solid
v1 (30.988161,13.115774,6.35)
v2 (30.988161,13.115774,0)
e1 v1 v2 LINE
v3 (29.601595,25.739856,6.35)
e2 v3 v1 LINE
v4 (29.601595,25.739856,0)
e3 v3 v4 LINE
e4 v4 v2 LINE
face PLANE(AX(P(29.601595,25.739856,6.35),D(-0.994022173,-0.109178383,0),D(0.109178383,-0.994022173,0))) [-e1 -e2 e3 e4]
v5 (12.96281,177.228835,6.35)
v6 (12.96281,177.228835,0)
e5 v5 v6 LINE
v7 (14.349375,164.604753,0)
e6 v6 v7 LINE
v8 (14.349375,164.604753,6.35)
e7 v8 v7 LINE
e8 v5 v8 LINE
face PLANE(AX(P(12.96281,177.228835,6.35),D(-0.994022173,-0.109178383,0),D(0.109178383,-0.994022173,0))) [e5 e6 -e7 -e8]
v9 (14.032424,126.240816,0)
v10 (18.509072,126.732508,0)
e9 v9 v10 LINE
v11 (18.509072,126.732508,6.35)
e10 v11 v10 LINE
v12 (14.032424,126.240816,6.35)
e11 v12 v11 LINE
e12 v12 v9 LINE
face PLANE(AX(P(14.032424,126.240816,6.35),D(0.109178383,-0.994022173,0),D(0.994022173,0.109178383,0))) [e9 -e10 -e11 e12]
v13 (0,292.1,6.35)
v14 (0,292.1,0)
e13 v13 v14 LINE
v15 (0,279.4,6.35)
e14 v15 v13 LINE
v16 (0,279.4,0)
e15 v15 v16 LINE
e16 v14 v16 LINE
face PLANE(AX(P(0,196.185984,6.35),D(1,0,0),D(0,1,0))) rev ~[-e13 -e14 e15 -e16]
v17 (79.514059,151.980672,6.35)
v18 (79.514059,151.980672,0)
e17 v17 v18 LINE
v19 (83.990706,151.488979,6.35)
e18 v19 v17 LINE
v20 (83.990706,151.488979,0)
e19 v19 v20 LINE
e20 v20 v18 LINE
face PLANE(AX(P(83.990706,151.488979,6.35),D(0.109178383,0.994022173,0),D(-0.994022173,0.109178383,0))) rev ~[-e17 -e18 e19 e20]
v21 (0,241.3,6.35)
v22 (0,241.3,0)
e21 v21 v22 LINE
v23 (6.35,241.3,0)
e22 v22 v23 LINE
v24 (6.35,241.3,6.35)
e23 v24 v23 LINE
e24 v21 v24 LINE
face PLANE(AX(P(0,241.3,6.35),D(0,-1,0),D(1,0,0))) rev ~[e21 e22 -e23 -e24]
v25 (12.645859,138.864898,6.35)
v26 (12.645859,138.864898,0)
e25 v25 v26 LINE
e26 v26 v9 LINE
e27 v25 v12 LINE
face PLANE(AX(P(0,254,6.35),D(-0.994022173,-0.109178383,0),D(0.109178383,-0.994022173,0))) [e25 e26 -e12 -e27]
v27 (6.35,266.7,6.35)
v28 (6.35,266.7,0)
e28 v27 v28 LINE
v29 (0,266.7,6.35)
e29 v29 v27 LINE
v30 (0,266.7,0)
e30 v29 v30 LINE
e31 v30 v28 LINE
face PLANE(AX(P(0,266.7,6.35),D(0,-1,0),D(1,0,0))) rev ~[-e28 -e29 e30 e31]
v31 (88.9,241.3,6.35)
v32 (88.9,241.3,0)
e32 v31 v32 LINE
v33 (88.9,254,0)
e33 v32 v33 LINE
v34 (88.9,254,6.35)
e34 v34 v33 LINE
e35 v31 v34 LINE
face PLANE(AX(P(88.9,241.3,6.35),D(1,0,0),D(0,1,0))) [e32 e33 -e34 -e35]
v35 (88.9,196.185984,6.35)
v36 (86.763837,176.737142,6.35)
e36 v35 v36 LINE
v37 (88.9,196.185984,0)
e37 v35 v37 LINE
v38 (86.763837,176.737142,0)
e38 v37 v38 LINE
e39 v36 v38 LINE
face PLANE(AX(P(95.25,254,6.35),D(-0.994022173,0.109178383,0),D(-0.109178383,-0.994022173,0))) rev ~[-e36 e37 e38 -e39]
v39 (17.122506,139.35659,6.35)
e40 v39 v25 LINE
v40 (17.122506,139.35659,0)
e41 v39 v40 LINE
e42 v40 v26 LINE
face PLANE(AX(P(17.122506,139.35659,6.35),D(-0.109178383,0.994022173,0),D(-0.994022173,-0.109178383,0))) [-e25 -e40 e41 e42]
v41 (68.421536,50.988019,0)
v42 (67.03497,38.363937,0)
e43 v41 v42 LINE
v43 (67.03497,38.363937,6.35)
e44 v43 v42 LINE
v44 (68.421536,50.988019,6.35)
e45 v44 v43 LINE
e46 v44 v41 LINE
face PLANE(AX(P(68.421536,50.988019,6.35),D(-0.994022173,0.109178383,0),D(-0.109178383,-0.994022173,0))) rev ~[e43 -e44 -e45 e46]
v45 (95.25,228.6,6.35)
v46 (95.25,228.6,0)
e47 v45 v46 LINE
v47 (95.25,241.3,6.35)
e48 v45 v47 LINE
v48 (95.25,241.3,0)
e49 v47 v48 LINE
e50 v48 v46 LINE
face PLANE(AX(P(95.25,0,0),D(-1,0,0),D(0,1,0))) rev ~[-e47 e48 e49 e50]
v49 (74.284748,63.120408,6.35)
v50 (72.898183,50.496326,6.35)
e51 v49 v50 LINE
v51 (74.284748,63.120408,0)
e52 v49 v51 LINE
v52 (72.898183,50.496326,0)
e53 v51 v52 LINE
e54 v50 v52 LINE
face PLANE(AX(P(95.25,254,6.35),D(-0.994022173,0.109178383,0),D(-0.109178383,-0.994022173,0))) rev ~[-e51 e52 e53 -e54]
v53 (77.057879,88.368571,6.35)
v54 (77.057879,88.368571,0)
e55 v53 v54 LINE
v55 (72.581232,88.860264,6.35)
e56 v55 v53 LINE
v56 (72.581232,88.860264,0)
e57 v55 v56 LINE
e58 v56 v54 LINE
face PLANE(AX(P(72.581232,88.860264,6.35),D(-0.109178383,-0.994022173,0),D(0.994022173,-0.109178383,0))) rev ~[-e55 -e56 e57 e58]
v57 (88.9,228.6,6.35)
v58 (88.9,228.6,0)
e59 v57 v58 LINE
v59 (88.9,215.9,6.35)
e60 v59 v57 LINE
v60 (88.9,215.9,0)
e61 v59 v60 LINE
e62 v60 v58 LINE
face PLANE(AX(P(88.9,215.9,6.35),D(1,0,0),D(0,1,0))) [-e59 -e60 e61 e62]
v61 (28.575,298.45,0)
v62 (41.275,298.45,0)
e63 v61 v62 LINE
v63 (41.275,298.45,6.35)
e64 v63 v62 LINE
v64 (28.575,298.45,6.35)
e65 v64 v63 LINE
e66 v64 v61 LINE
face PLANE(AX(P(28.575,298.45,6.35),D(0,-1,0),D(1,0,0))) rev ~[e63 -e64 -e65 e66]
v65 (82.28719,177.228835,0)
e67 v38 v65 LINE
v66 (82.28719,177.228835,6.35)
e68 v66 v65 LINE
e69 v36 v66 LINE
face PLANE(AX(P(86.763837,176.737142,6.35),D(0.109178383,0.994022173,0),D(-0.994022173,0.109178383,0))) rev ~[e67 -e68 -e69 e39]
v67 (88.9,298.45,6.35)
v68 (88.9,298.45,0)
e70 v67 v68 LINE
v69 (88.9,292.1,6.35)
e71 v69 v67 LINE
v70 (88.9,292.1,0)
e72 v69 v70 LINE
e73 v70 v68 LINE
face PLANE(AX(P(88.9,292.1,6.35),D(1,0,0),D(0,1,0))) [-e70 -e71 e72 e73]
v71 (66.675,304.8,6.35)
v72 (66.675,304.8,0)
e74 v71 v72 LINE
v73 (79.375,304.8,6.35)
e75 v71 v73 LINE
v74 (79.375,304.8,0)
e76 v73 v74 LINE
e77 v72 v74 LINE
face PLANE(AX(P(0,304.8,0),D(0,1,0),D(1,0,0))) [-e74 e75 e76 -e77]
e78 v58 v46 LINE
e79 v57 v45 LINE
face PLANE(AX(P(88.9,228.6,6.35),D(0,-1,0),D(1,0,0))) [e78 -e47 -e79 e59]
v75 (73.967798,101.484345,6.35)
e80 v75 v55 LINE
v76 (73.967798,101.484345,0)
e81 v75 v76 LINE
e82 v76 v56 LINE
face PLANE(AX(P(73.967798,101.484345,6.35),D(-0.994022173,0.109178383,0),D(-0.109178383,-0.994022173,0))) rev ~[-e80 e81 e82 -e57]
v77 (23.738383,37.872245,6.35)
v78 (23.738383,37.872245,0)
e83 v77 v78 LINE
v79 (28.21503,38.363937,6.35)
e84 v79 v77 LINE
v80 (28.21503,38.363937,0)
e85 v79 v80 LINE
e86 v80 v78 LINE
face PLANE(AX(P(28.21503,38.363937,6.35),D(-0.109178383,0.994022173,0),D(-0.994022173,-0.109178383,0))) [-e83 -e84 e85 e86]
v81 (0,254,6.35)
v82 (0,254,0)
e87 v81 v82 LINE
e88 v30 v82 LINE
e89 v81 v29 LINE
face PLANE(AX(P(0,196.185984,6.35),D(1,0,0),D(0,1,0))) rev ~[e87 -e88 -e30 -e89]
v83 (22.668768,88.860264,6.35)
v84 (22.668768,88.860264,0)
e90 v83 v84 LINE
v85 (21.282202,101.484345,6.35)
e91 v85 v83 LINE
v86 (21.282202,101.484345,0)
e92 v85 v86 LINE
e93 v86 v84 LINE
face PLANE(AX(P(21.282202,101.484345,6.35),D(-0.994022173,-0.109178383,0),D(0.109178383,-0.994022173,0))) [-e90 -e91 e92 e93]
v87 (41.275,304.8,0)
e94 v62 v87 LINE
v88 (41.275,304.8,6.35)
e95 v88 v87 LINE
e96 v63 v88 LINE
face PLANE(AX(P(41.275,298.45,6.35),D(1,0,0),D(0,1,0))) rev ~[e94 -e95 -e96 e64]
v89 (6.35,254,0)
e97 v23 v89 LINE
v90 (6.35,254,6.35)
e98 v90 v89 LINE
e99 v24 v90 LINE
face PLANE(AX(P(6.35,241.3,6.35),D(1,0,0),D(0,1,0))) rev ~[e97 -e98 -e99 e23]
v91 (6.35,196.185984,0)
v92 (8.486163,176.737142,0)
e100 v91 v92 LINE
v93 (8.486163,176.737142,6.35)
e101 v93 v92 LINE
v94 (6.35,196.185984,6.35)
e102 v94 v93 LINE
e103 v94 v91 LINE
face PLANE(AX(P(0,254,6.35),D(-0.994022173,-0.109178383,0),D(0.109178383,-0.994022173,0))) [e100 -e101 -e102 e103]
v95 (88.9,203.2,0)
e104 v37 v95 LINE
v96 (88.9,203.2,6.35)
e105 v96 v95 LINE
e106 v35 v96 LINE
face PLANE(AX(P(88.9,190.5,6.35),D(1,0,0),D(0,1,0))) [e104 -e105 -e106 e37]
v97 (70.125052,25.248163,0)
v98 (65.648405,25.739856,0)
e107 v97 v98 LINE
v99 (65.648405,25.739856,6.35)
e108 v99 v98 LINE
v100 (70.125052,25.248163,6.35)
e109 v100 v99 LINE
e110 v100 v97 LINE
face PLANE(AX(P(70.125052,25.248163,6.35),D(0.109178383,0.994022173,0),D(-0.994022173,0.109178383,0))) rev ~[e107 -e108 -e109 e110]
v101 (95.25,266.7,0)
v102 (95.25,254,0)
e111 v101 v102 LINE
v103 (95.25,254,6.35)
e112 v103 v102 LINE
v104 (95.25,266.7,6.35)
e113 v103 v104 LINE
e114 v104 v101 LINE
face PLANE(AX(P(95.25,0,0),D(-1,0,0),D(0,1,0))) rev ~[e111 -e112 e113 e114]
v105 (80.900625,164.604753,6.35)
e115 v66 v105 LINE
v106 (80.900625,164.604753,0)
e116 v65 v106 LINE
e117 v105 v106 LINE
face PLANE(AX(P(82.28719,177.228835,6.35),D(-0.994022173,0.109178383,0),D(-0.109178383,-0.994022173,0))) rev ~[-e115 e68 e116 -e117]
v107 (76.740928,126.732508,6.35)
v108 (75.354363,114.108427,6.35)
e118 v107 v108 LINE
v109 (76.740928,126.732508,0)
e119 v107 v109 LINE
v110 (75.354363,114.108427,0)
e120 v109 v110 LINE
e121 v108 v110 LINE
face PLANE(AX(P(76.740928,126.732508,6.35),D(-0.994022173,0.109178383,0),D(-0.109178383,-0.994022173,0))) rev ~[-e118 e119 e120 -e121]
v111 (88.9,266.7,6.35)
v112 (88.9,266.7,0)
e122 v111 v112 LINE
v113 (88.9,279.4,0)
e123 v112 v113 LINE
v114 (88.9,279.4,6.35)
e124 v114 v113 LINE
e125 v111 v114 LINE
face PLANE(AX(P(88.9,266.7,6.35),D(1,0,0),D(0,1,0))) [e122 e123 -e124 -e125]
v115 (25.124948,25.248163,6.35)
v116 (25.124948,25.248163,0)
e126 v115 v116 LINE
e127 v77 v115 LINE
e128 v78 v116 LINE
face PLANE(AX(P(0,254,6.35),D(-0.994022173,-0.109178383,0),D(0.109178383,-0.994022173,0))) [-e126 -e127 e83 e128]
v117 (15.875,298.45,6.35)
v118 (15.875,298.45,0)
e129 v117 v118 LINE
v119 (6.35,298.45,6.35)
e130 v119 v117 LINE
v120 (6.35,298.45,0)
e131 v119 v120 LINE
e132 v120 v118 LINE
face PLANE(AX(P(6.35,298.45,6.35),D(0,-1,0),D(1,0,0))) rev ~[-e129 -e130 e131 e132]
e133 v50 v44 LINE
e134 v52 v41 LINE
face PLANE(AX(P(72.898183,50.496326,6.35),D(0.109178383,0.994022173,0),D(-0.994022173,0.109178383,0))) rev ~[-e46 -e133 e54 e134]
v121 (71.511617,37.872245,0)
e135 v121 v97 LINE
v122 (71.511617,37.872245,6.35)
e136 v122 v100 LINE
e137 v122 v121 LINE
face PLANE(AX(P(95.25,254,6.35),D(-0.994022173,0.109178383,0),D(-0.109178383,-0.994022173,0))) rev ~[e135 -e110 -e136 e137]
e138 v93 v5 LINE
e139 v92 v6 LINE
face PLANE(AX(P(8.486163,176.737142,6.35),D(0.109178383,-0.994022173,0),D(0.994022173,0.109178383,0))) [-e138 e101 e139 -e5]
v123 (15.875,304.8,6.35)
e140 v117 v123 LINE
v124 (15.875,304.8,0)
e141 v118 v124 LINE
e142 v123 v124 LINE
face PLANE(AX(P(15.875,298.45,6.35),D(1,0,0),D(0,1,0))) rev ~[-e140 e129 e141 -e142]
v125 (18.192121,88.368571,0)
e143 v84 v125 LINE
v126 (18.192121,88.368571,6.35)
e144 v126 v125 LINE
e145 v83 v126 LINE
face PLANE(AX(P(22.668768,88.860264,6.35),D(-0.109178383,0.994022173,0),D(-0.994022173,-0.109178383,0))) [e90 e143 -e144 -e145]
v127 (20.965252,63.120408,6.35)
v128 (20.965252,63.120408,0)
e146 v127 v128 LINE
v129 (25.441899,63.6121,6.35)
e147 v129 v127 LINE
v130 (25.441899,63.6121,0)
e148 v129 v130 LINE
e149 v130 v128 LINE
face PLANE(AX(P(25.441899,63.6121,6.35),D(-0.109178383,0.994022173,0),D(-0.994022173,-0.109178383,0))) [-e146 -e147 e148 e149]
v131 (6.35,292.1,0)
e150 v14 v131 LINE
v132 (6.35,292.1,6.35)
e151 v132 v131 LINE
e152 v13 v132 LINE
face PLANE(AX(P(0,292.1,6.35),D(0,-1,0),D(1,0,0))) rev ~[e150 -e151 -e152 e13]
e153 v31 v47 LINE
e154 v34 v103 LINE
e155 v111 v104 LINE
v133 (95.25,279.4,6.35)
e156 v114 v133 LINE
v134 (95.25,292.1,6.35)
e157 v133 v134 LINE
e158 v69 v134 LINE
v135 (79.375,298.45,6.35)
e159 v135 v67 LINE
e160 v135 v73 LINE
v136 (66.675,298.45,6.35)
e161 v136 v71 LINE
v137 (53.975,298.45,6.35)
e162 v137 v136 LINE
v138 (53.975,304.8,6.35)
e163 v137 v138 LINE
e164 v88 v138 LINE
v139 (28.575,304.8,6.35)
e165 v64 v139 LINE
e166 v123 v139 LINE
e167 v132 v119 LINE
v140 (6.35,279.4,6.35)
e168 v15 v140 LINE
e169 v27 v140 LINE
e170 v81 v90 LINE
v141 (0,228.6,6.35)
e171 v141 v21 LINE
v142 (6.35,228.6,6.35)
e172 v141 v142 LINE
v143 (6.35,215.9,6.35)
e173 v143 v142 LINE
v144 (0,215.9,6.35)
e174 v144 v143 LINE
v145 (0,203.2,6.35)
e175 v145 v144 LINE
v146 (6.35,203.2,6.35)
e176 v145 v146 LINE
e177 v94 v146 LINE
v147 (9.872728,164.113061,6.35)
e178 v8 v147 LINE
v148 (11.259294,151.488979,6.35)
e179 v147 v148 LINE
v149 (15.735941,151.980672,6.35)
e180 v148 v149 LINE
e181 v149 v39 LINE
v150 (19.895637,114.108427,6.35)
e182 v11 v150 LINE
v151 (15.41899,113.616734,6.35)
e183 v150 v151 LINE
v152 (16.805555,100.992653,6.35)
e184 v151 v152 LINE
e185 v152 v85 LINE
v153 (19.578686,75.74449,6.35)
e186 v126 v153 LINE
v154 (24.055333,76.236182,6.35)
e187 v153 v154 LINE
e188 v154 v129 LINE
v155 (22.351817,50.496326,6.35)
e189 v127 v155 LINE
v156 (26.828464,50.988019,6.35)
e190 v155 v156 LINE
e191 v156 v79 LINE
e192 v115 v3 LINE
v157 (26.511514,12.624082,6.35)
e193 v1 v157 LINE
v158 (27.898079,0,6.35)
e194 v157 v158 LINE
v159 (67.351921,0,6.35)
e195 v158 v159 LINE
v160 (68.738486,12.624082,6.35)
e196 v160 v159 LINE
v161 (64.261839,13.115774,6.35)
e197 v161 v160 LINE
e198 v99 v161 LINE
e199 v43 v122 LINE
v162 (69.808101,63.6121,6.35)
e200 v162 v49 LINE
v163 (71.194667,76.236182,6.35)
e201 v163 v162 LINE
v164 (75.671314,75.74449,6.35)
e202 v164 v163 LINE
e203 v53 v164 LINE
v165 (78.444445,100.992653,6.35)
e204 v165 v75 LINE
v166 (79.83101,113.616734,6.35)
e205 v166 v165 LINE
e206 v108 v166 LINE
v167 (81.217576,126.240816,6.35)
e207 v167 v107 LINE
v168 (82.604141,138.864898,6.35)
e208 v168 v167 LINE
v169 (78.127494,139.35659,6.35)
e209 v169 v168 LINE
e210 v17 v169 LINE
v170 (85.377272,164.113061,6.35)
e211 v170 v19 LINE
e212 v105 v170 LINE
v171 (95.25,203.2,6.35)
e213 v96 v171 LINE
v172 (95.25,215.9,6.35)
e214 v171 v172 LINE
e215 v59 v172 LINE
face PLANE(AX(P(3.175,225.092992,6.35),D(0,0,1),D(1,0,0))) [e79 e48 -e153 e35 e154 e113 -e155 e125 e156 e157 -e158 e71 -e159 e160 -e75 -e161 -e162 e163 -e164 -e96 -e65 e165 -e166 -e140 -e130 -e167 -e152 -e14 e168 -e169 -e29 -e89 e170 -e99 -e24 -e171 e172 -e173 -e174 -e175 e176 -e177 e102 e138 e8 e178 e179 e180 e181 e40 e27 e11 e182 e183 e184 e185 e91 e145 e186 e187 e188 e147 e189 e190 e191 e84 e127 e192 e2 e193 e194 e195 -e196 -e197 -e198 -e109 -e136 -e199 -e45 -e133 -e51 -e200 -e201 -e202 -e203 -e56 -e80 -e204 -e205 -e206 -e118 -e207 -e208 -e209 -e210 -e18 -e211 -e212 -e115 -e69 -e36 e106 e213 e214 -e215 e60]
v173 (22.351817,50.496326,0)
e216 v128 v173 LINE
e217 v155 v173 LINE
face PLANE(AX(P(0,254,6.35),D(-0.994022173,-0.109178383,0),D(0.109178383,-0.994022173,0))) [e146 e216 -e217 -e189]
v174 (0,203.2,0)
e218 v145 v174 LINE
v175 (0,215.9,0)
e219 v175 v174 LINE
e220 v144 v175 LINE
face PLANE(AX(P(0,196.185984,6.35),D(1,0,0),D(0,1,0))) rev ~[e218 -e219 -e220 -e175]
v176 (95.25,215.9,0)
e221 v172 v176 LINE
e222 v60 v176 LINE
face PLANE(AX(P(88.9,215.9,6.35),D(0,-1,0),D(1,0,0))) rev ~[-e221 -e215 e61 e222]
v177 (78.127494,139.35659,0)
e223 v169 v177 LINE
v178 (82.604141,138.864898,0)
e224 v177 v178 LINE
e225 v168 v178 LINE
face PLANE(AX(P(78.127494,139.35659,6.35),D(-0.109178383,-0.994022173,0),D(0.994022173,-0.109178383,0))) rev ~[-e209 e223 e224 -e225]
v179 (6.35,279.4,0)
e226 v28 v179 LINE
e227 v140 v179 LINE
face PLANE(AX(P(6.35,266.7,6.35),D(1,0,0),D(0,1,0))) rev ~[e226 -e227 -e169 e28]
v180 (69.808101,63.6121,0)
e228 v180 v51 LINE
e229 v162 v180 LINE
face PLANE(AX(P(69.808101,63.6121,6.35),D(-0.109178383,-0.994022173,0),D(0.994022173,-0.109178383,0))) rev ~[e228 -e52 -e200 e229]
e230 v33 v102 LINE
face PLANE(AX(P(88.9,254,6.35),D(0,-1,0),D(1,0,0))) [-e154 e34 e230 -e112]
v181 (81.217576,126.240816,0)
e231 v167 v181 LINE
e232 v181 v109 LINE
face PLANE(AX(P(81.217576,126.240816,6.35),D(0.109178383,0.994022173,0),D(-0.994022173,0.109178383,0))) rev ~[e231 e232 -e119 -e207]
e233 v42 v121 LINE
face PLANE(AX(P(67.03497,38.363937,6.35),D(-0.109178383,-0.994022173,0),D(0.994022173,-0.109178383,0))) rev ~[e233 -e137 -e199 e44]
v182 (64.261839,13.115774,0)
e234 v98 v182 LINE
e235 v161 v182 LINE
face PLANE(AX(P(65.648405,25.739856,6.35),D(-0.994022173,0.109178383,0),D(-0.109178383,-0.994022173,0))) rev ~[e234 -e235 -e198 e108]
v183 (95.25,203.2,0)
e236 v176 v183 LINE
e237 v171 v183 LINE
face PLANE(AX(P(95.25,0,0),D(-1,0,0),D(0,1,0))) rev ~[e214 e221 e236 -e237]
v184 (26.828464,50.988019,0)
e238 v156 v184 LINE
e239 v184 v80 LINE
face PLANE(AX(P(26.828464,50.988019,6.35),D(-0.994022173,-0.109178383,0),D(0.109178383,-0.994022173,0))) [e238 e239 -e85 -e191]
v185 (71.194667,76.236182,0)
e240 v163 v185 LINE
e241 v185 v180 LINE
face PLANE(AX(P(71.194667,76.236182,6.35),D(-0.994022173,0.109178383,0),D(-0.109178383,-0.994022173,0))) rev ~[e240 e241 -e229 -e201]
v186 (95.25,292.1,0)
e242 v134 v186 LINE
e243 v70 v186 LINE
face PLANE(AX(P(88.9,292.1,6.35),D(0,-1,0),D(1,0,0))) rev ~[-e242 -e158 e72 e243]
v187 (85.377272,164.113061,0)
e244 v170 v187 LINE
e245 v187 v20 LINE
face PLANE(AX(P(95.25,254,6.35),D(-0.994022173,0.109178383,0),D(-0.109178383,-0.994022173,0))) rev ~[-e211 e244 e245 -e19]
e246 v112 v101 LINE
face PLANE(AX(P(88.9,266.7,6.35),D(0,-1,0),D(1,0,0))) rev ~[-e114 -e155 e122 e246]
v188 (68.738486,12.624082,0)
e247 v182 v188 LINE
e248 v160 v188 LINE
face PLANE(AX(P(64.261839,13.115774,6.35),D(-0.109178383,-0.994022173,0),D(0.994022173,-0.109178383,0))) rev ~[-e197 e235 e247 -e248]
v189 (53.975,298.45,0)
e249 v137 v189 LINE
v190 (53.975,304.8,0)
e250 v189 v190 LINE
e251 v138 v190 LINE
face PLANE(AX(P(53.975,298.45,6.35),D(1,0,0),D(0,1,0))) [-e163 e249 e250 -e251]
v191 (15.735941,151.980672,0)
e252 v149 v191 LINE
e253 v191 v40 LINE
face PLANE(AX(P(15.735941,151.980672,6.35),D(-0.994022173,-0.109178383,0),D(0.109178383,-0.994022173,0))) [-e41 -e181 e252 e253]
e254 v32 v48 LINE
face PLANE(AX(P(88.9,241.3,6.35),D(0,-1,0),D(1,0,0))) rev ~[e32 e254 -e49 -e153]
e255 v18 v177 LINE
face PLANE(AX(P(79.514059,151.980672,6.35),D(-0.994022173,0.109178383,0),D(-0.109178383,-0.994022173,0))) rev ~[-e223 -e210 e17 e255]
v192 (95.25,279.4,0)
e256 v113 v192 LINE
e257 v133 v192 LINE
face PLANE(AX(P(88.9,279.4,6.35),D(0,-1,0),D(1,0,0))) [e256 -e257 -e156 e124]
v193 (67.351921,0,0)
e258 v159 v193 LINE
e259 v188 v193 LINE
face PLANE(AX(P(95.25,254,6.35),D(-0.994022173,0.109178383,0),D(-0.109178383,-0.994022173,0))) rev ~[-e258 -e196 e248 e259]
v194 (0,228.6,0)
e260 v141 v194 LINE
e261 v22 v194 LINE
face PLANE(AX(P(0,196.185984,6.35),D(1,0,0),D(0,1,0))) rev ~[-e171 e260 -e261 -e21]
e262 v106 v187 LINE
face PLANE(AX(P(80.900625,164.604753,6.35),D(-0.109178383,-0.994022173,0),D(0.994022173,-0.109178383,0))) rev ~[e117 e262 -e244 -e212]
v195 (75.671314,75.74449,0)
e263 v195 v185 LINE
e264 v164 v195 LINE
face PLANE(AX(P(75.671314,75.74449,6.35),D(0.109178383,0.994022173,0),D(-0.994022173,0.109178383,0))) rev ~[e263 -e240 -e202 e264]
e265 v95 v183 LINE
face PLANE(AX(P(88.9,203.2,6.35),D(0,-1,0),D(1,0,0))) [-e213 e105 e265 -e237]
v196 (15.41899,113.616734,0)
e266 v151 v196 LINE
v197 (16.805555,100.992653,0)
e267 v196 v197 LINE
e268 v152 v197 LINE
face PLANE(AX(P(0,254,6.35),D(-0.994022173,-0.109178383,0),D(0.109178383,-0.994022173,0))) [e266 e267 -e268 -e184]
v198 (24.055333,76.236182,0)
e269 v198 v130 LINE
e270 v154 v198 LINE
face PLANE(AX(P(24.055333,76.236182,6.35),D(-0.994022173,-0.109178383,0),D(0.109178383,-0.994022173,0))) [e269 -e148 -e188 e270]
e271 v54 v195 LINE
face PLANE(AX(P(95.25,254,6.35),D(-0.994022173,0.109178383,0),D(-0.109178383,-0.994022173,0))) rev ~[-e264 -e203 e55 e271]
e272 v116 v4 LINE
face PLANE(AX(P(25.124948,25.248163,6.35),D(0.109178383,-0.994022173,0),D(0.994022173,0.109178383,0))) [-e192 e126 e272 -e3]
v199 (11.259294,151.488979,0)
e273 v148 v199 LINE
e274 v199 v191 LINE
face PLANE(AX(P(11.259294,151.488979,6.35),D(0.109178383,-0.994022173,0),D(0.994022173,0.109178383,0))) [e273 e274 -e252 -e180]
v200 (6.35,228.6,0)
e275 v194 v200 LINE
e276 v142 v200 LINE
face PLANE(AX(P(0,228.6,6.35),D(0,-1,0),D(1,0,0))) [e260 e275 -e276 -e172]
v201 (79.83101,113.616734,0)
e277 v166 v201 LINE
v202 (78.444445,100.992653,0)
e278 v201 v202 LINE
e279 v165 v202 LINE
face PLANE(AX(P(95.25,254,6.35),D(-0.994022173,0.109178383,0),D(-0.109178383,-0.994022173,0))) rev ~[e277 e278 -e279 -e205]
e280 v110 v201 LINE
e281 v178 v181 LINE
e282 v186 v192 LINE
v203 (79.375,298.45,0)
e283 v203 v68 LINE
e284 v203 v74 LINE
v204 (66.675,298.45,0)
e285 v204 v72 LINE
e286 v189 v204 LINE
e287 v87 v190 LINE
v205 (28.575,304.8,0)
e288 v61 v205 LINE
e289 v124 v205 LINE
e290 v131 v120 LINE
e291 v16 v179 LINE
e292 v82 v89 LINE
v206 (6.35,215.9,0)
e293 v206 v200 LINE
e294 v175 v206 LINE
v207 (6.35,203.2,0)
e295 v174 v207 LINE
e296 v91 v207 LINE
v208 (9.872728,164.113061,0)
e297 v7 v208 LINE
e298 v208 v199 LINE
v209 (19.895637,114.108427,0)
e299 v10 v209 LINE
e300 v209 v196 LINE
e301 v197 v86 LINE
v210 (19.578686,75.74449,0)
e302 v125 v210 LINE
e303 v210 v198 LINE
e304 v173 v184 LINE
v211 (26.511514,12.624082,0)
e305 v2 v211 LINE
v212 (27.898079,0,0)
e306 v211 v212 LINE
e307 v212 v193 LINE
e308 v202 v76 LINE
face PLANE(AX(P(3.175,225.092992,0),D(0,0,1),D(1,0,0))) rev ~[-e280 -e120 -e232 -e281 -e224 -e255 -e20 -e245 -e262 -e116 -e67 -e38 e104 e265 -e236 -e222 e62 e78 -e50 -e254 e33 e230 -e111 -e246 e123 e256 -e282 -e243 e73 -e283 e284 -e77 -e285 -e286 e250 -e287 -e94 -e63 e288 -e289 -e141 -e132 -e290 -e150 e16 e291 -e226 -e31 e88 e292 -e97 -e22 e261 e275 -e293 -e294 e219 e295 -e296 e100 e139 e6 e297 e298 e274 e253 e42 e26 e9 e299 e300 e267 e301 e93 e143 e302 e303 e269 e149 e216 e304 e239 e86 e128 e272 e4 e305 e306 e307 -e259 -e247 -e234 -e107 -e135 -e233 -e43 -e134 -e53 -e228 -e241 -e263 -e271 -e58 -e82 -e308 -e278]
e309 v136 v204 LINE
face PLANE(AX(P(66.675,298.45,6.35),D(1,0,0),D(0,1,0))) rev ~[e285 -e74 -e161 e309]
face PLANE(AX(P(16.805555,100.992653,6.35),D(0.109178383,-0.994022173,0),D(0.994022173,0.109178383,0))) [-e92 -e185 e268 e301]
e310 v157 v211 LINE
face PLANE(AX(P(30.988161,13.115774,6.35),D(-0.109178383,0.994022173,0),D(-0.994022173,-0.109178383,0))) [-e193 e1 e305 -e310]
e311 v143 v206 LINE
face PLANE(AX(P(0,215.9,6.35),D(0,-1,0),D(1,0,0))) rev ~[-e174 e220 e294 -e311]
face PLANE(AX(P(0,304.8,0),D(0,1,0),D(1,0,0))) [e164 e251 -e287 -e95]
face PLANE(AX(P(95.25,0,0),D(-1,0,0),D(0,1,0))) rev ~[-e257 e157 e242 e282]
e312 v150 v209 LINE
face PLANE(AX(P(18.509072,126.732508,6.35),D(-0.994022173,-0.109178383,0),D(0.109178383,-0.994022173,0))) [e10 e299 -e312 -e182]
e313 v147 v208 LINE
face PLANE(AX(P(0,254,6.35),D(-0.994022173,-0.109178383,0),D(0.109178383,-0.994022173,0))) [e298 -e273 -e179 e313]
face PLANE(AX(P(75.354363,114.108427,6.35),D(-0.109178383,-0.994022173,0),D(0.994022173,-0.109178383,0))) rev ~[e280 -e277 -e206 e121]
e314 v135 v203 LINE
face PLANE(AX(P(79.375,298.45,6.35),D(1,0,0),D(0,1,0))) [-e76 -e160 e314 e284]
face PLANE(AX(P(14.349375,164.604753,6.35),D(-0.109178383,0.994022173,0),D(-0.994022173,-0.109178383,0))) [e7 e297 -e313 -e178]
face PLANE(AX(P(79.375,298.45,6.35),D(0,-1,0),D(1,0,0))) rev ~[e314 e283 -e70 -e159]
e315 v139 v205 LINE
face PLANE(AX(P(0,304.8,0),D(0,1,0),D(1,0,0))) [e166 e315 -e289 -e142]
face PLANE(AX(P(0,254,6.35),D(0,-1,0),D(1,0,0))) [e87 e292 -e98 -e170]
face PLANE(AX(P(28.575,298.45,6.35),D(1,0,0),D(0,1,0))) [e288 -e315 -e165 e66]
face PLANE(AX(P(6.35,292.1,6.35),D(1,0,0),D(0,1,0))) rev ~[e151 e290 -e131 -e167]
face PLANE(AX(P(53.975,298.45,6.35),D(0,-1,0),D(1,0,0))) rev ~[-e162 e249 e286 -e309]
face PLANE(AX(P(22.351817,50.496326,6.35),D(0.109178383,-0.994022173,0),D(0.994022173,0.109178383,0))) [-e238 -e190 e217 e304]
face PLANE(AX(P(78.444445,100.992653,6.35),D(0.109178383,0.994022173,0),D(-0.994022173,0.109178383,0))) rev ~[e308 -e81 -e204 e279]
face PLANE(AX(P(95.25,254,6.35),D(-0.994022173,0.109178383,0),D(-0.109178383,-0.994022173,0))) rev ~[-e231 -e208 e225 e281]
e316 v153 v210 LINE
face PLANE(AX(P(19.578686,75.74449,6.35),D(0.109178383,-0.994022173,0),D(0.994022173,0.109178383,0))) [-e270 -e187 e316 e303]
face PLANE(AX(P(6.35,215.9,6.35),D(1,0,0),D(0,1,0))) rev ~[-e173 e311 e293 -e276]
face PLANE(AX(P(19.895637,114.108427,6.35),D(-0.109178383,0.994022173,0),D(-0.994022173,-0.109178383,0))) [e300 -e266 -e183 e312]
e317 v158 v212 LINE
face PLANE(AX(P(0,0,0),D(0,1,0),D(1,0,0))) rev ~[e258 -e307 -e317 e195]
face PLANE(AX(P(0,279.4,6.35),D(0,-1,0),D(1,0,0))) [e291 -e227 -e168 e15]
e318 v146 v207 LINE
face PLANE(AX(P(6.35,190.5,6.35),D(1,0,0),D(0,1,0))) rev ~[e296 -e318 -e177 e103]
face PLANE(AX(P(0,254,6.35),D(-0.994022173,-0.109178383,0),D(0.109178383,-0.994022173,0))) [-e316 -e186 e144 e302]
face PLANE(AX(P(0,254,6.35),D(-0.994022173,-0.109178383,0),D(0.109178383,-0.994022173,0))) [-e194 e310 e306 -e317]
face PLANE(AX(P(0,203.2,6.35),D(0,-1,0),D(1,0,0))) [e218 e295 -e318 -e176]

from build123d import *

# Parameters (mm, degrees)
SKETCH1_W           = 95.25
SKETCH1_H           = 304.8
BOSS_EXTRUDE1_DEPTH = 6.35
CUT_EXTRUDE1_DEPTH  = 7.35
SKETCH3_W           = 6.35
SKETCH3_H           = 12.7
CUT_EXTRUDE2_DEPTH  = 7.35
SKETCH4_W           = 9.525
SKETCH4_H           = 6.35
SKETCH4_W_2         = 12.7
CUT_EXTRUDE3_DEPTH  = 7.35
CUT_EXTRUDE4_DEPTH  = 7.35
LPATTERN2_COUNT     = 7
LPATTERN2_PITCH     = 25.4
CUT_EXTRUDE5_DEPTH  = 7.35
LPATTERN3_COUNT     = 7
LPATTERN3_PITCH     = 25.4
SKETCH9_W           = 6.35
SKETCH9_H           = 57.814016323
BOSS_EXTRUDE2_DEPTH = 6.35
LPATTERN4_COUNT     = 5
LPATTERN4_PITCH     = 25.4


with BuildPart() as part:
    # Sketch1 → Boss-Extrude1 (new body)
    with BuildSketch(Plane.XY):
        with Locations((47.625, 152.4)):
            Rectangle(SKETCH1_W, SKETCH1_H)
    extrude(amount=BOSS_EXTRUDE1_DEPTH)

    # Sketch2 → Cut-Extrude1 (cut, through all)
    with BuildSketch(Plane.XY.offset(6.35)):
        Polygon((0, 254), (27.898079092, 0), (0, 0), align=None)
        Polygon((67.351920908, 0), (95.25, 0), (95.25, 254), align=None)
    extrude(amount=-CUT_EXTRUDE1_DEPTH, mode=Mode.SUBTRACT)

    # Sketch3 → Cut-Extrude2 (cut, through all)
    with BuildSketch(Plane.XY.offset(6.35)):
        with Locations((3.175, 298.45)):
            Rectangle(SKETCH3_W, SKETCH3_H)
        with Locations((92.075, 298.45)):
            Rectangle(SKETCH3_W, SKETCH3_H)
    cut_extrude2 = extrude(amount=-CUT_EXTRUDE2_DEPTH, mode=Mode.SUBTRACT)

    # Sketch4 → Cut-Extrude3 (cut, through all)
    with BuildSketch(Plane.XY.offset(6.35)):
        with Locations((11.1125, 301.625)):
            Rectangle(SKETCH4_W, SKETCH4_H)
        with Locations((34.925, 301.625)):
            Rectangle(SKETCH4_W_2, SKETCH4_H)
        with Locations((60.325, 301.625)):
            Rectangle(SKETCH4_W_2, SKETCH4_H)
        with Locations((84.1375, 301.625)):
            Rectangle(SKETCH4_W, SKETCH4_H)
    extrude(amount=-CUT_EXTRUDE3_DEPTH, mode=Mode.SUBTRACT)

    # Sketch5 → Cut-Extrude4 (cut, through all)
    with BuildSketch(Plane.XY.offset(6.35)):
        Polygon((26.511513632, 12.624081599), (25.124948171, 25.248163198), (29.601595278, 25.739855541), (30.988160739, 13.115773942), align=None)
    cut_extrude4 = extrude(amount=-CUT_EXTRUDE4_DEPTH, mode=Mode.SUBTRACT)

    # LPattern2: Cut-Extrude4 ×7
    with Locations(*[Vector(-0.109178383, 0.994022173, 0) * (i * LPATTERN2_PITCH) for i in range(1, LPATTERN2_COUNT)]):
        add(cut_extrude4, mode=Mode.SUBTRACT)

    # Sketch6 → Cut-Extrude5 (cut, through all)
    with BuildSketch(Plane.XY.offset(6.35)):
        Polygon((68.738486368, 12.624081599), (70.125051829, 25.248163198), (65.648404722, 25.739855541), (64.261839261, 13.115773942), align=None)
    cut_extrude5 = extrude(amount=-CUT_EXTRUDE5_DEPTH, mode=Mode.SUBTRACT)

    # LPattern3: Cut-Extrude5 ×7
    with Locations(*[Vector(0.109178383, 0.994022173, 0) * (i * LPATTERN3_PITCH) for i in range(1, LPATTERN3_COUNT)]):
        add(cut_extrude5, mode=Mode.SUBTRACT)

    # Sketch9 → Boss-Extrude2 (add, through all)
    with BuildSketch(Plane.XY.offset(6.35)):
        with Locations((3.175, 225.092991839)):
            Rectangle(SKETCH9_W, SKETCH9_H)
        with Locations((92.075, 225.092991839)):
            Rectangle(SKETCH9_W, SKETCH9_H)
    extrude(amount=-BOSS_EXTRUDE2_DEPTH)

    # LPattern4: Cut-Extrude2 ×5
    with Locations(*[(0, -i * LPATTERN4_PITCH, 0) for i in range(1, LPATTERN4_COUNT)]):
        add(cut_extrude2, mode=Mode.SUBTRACT)


solid = part.part
